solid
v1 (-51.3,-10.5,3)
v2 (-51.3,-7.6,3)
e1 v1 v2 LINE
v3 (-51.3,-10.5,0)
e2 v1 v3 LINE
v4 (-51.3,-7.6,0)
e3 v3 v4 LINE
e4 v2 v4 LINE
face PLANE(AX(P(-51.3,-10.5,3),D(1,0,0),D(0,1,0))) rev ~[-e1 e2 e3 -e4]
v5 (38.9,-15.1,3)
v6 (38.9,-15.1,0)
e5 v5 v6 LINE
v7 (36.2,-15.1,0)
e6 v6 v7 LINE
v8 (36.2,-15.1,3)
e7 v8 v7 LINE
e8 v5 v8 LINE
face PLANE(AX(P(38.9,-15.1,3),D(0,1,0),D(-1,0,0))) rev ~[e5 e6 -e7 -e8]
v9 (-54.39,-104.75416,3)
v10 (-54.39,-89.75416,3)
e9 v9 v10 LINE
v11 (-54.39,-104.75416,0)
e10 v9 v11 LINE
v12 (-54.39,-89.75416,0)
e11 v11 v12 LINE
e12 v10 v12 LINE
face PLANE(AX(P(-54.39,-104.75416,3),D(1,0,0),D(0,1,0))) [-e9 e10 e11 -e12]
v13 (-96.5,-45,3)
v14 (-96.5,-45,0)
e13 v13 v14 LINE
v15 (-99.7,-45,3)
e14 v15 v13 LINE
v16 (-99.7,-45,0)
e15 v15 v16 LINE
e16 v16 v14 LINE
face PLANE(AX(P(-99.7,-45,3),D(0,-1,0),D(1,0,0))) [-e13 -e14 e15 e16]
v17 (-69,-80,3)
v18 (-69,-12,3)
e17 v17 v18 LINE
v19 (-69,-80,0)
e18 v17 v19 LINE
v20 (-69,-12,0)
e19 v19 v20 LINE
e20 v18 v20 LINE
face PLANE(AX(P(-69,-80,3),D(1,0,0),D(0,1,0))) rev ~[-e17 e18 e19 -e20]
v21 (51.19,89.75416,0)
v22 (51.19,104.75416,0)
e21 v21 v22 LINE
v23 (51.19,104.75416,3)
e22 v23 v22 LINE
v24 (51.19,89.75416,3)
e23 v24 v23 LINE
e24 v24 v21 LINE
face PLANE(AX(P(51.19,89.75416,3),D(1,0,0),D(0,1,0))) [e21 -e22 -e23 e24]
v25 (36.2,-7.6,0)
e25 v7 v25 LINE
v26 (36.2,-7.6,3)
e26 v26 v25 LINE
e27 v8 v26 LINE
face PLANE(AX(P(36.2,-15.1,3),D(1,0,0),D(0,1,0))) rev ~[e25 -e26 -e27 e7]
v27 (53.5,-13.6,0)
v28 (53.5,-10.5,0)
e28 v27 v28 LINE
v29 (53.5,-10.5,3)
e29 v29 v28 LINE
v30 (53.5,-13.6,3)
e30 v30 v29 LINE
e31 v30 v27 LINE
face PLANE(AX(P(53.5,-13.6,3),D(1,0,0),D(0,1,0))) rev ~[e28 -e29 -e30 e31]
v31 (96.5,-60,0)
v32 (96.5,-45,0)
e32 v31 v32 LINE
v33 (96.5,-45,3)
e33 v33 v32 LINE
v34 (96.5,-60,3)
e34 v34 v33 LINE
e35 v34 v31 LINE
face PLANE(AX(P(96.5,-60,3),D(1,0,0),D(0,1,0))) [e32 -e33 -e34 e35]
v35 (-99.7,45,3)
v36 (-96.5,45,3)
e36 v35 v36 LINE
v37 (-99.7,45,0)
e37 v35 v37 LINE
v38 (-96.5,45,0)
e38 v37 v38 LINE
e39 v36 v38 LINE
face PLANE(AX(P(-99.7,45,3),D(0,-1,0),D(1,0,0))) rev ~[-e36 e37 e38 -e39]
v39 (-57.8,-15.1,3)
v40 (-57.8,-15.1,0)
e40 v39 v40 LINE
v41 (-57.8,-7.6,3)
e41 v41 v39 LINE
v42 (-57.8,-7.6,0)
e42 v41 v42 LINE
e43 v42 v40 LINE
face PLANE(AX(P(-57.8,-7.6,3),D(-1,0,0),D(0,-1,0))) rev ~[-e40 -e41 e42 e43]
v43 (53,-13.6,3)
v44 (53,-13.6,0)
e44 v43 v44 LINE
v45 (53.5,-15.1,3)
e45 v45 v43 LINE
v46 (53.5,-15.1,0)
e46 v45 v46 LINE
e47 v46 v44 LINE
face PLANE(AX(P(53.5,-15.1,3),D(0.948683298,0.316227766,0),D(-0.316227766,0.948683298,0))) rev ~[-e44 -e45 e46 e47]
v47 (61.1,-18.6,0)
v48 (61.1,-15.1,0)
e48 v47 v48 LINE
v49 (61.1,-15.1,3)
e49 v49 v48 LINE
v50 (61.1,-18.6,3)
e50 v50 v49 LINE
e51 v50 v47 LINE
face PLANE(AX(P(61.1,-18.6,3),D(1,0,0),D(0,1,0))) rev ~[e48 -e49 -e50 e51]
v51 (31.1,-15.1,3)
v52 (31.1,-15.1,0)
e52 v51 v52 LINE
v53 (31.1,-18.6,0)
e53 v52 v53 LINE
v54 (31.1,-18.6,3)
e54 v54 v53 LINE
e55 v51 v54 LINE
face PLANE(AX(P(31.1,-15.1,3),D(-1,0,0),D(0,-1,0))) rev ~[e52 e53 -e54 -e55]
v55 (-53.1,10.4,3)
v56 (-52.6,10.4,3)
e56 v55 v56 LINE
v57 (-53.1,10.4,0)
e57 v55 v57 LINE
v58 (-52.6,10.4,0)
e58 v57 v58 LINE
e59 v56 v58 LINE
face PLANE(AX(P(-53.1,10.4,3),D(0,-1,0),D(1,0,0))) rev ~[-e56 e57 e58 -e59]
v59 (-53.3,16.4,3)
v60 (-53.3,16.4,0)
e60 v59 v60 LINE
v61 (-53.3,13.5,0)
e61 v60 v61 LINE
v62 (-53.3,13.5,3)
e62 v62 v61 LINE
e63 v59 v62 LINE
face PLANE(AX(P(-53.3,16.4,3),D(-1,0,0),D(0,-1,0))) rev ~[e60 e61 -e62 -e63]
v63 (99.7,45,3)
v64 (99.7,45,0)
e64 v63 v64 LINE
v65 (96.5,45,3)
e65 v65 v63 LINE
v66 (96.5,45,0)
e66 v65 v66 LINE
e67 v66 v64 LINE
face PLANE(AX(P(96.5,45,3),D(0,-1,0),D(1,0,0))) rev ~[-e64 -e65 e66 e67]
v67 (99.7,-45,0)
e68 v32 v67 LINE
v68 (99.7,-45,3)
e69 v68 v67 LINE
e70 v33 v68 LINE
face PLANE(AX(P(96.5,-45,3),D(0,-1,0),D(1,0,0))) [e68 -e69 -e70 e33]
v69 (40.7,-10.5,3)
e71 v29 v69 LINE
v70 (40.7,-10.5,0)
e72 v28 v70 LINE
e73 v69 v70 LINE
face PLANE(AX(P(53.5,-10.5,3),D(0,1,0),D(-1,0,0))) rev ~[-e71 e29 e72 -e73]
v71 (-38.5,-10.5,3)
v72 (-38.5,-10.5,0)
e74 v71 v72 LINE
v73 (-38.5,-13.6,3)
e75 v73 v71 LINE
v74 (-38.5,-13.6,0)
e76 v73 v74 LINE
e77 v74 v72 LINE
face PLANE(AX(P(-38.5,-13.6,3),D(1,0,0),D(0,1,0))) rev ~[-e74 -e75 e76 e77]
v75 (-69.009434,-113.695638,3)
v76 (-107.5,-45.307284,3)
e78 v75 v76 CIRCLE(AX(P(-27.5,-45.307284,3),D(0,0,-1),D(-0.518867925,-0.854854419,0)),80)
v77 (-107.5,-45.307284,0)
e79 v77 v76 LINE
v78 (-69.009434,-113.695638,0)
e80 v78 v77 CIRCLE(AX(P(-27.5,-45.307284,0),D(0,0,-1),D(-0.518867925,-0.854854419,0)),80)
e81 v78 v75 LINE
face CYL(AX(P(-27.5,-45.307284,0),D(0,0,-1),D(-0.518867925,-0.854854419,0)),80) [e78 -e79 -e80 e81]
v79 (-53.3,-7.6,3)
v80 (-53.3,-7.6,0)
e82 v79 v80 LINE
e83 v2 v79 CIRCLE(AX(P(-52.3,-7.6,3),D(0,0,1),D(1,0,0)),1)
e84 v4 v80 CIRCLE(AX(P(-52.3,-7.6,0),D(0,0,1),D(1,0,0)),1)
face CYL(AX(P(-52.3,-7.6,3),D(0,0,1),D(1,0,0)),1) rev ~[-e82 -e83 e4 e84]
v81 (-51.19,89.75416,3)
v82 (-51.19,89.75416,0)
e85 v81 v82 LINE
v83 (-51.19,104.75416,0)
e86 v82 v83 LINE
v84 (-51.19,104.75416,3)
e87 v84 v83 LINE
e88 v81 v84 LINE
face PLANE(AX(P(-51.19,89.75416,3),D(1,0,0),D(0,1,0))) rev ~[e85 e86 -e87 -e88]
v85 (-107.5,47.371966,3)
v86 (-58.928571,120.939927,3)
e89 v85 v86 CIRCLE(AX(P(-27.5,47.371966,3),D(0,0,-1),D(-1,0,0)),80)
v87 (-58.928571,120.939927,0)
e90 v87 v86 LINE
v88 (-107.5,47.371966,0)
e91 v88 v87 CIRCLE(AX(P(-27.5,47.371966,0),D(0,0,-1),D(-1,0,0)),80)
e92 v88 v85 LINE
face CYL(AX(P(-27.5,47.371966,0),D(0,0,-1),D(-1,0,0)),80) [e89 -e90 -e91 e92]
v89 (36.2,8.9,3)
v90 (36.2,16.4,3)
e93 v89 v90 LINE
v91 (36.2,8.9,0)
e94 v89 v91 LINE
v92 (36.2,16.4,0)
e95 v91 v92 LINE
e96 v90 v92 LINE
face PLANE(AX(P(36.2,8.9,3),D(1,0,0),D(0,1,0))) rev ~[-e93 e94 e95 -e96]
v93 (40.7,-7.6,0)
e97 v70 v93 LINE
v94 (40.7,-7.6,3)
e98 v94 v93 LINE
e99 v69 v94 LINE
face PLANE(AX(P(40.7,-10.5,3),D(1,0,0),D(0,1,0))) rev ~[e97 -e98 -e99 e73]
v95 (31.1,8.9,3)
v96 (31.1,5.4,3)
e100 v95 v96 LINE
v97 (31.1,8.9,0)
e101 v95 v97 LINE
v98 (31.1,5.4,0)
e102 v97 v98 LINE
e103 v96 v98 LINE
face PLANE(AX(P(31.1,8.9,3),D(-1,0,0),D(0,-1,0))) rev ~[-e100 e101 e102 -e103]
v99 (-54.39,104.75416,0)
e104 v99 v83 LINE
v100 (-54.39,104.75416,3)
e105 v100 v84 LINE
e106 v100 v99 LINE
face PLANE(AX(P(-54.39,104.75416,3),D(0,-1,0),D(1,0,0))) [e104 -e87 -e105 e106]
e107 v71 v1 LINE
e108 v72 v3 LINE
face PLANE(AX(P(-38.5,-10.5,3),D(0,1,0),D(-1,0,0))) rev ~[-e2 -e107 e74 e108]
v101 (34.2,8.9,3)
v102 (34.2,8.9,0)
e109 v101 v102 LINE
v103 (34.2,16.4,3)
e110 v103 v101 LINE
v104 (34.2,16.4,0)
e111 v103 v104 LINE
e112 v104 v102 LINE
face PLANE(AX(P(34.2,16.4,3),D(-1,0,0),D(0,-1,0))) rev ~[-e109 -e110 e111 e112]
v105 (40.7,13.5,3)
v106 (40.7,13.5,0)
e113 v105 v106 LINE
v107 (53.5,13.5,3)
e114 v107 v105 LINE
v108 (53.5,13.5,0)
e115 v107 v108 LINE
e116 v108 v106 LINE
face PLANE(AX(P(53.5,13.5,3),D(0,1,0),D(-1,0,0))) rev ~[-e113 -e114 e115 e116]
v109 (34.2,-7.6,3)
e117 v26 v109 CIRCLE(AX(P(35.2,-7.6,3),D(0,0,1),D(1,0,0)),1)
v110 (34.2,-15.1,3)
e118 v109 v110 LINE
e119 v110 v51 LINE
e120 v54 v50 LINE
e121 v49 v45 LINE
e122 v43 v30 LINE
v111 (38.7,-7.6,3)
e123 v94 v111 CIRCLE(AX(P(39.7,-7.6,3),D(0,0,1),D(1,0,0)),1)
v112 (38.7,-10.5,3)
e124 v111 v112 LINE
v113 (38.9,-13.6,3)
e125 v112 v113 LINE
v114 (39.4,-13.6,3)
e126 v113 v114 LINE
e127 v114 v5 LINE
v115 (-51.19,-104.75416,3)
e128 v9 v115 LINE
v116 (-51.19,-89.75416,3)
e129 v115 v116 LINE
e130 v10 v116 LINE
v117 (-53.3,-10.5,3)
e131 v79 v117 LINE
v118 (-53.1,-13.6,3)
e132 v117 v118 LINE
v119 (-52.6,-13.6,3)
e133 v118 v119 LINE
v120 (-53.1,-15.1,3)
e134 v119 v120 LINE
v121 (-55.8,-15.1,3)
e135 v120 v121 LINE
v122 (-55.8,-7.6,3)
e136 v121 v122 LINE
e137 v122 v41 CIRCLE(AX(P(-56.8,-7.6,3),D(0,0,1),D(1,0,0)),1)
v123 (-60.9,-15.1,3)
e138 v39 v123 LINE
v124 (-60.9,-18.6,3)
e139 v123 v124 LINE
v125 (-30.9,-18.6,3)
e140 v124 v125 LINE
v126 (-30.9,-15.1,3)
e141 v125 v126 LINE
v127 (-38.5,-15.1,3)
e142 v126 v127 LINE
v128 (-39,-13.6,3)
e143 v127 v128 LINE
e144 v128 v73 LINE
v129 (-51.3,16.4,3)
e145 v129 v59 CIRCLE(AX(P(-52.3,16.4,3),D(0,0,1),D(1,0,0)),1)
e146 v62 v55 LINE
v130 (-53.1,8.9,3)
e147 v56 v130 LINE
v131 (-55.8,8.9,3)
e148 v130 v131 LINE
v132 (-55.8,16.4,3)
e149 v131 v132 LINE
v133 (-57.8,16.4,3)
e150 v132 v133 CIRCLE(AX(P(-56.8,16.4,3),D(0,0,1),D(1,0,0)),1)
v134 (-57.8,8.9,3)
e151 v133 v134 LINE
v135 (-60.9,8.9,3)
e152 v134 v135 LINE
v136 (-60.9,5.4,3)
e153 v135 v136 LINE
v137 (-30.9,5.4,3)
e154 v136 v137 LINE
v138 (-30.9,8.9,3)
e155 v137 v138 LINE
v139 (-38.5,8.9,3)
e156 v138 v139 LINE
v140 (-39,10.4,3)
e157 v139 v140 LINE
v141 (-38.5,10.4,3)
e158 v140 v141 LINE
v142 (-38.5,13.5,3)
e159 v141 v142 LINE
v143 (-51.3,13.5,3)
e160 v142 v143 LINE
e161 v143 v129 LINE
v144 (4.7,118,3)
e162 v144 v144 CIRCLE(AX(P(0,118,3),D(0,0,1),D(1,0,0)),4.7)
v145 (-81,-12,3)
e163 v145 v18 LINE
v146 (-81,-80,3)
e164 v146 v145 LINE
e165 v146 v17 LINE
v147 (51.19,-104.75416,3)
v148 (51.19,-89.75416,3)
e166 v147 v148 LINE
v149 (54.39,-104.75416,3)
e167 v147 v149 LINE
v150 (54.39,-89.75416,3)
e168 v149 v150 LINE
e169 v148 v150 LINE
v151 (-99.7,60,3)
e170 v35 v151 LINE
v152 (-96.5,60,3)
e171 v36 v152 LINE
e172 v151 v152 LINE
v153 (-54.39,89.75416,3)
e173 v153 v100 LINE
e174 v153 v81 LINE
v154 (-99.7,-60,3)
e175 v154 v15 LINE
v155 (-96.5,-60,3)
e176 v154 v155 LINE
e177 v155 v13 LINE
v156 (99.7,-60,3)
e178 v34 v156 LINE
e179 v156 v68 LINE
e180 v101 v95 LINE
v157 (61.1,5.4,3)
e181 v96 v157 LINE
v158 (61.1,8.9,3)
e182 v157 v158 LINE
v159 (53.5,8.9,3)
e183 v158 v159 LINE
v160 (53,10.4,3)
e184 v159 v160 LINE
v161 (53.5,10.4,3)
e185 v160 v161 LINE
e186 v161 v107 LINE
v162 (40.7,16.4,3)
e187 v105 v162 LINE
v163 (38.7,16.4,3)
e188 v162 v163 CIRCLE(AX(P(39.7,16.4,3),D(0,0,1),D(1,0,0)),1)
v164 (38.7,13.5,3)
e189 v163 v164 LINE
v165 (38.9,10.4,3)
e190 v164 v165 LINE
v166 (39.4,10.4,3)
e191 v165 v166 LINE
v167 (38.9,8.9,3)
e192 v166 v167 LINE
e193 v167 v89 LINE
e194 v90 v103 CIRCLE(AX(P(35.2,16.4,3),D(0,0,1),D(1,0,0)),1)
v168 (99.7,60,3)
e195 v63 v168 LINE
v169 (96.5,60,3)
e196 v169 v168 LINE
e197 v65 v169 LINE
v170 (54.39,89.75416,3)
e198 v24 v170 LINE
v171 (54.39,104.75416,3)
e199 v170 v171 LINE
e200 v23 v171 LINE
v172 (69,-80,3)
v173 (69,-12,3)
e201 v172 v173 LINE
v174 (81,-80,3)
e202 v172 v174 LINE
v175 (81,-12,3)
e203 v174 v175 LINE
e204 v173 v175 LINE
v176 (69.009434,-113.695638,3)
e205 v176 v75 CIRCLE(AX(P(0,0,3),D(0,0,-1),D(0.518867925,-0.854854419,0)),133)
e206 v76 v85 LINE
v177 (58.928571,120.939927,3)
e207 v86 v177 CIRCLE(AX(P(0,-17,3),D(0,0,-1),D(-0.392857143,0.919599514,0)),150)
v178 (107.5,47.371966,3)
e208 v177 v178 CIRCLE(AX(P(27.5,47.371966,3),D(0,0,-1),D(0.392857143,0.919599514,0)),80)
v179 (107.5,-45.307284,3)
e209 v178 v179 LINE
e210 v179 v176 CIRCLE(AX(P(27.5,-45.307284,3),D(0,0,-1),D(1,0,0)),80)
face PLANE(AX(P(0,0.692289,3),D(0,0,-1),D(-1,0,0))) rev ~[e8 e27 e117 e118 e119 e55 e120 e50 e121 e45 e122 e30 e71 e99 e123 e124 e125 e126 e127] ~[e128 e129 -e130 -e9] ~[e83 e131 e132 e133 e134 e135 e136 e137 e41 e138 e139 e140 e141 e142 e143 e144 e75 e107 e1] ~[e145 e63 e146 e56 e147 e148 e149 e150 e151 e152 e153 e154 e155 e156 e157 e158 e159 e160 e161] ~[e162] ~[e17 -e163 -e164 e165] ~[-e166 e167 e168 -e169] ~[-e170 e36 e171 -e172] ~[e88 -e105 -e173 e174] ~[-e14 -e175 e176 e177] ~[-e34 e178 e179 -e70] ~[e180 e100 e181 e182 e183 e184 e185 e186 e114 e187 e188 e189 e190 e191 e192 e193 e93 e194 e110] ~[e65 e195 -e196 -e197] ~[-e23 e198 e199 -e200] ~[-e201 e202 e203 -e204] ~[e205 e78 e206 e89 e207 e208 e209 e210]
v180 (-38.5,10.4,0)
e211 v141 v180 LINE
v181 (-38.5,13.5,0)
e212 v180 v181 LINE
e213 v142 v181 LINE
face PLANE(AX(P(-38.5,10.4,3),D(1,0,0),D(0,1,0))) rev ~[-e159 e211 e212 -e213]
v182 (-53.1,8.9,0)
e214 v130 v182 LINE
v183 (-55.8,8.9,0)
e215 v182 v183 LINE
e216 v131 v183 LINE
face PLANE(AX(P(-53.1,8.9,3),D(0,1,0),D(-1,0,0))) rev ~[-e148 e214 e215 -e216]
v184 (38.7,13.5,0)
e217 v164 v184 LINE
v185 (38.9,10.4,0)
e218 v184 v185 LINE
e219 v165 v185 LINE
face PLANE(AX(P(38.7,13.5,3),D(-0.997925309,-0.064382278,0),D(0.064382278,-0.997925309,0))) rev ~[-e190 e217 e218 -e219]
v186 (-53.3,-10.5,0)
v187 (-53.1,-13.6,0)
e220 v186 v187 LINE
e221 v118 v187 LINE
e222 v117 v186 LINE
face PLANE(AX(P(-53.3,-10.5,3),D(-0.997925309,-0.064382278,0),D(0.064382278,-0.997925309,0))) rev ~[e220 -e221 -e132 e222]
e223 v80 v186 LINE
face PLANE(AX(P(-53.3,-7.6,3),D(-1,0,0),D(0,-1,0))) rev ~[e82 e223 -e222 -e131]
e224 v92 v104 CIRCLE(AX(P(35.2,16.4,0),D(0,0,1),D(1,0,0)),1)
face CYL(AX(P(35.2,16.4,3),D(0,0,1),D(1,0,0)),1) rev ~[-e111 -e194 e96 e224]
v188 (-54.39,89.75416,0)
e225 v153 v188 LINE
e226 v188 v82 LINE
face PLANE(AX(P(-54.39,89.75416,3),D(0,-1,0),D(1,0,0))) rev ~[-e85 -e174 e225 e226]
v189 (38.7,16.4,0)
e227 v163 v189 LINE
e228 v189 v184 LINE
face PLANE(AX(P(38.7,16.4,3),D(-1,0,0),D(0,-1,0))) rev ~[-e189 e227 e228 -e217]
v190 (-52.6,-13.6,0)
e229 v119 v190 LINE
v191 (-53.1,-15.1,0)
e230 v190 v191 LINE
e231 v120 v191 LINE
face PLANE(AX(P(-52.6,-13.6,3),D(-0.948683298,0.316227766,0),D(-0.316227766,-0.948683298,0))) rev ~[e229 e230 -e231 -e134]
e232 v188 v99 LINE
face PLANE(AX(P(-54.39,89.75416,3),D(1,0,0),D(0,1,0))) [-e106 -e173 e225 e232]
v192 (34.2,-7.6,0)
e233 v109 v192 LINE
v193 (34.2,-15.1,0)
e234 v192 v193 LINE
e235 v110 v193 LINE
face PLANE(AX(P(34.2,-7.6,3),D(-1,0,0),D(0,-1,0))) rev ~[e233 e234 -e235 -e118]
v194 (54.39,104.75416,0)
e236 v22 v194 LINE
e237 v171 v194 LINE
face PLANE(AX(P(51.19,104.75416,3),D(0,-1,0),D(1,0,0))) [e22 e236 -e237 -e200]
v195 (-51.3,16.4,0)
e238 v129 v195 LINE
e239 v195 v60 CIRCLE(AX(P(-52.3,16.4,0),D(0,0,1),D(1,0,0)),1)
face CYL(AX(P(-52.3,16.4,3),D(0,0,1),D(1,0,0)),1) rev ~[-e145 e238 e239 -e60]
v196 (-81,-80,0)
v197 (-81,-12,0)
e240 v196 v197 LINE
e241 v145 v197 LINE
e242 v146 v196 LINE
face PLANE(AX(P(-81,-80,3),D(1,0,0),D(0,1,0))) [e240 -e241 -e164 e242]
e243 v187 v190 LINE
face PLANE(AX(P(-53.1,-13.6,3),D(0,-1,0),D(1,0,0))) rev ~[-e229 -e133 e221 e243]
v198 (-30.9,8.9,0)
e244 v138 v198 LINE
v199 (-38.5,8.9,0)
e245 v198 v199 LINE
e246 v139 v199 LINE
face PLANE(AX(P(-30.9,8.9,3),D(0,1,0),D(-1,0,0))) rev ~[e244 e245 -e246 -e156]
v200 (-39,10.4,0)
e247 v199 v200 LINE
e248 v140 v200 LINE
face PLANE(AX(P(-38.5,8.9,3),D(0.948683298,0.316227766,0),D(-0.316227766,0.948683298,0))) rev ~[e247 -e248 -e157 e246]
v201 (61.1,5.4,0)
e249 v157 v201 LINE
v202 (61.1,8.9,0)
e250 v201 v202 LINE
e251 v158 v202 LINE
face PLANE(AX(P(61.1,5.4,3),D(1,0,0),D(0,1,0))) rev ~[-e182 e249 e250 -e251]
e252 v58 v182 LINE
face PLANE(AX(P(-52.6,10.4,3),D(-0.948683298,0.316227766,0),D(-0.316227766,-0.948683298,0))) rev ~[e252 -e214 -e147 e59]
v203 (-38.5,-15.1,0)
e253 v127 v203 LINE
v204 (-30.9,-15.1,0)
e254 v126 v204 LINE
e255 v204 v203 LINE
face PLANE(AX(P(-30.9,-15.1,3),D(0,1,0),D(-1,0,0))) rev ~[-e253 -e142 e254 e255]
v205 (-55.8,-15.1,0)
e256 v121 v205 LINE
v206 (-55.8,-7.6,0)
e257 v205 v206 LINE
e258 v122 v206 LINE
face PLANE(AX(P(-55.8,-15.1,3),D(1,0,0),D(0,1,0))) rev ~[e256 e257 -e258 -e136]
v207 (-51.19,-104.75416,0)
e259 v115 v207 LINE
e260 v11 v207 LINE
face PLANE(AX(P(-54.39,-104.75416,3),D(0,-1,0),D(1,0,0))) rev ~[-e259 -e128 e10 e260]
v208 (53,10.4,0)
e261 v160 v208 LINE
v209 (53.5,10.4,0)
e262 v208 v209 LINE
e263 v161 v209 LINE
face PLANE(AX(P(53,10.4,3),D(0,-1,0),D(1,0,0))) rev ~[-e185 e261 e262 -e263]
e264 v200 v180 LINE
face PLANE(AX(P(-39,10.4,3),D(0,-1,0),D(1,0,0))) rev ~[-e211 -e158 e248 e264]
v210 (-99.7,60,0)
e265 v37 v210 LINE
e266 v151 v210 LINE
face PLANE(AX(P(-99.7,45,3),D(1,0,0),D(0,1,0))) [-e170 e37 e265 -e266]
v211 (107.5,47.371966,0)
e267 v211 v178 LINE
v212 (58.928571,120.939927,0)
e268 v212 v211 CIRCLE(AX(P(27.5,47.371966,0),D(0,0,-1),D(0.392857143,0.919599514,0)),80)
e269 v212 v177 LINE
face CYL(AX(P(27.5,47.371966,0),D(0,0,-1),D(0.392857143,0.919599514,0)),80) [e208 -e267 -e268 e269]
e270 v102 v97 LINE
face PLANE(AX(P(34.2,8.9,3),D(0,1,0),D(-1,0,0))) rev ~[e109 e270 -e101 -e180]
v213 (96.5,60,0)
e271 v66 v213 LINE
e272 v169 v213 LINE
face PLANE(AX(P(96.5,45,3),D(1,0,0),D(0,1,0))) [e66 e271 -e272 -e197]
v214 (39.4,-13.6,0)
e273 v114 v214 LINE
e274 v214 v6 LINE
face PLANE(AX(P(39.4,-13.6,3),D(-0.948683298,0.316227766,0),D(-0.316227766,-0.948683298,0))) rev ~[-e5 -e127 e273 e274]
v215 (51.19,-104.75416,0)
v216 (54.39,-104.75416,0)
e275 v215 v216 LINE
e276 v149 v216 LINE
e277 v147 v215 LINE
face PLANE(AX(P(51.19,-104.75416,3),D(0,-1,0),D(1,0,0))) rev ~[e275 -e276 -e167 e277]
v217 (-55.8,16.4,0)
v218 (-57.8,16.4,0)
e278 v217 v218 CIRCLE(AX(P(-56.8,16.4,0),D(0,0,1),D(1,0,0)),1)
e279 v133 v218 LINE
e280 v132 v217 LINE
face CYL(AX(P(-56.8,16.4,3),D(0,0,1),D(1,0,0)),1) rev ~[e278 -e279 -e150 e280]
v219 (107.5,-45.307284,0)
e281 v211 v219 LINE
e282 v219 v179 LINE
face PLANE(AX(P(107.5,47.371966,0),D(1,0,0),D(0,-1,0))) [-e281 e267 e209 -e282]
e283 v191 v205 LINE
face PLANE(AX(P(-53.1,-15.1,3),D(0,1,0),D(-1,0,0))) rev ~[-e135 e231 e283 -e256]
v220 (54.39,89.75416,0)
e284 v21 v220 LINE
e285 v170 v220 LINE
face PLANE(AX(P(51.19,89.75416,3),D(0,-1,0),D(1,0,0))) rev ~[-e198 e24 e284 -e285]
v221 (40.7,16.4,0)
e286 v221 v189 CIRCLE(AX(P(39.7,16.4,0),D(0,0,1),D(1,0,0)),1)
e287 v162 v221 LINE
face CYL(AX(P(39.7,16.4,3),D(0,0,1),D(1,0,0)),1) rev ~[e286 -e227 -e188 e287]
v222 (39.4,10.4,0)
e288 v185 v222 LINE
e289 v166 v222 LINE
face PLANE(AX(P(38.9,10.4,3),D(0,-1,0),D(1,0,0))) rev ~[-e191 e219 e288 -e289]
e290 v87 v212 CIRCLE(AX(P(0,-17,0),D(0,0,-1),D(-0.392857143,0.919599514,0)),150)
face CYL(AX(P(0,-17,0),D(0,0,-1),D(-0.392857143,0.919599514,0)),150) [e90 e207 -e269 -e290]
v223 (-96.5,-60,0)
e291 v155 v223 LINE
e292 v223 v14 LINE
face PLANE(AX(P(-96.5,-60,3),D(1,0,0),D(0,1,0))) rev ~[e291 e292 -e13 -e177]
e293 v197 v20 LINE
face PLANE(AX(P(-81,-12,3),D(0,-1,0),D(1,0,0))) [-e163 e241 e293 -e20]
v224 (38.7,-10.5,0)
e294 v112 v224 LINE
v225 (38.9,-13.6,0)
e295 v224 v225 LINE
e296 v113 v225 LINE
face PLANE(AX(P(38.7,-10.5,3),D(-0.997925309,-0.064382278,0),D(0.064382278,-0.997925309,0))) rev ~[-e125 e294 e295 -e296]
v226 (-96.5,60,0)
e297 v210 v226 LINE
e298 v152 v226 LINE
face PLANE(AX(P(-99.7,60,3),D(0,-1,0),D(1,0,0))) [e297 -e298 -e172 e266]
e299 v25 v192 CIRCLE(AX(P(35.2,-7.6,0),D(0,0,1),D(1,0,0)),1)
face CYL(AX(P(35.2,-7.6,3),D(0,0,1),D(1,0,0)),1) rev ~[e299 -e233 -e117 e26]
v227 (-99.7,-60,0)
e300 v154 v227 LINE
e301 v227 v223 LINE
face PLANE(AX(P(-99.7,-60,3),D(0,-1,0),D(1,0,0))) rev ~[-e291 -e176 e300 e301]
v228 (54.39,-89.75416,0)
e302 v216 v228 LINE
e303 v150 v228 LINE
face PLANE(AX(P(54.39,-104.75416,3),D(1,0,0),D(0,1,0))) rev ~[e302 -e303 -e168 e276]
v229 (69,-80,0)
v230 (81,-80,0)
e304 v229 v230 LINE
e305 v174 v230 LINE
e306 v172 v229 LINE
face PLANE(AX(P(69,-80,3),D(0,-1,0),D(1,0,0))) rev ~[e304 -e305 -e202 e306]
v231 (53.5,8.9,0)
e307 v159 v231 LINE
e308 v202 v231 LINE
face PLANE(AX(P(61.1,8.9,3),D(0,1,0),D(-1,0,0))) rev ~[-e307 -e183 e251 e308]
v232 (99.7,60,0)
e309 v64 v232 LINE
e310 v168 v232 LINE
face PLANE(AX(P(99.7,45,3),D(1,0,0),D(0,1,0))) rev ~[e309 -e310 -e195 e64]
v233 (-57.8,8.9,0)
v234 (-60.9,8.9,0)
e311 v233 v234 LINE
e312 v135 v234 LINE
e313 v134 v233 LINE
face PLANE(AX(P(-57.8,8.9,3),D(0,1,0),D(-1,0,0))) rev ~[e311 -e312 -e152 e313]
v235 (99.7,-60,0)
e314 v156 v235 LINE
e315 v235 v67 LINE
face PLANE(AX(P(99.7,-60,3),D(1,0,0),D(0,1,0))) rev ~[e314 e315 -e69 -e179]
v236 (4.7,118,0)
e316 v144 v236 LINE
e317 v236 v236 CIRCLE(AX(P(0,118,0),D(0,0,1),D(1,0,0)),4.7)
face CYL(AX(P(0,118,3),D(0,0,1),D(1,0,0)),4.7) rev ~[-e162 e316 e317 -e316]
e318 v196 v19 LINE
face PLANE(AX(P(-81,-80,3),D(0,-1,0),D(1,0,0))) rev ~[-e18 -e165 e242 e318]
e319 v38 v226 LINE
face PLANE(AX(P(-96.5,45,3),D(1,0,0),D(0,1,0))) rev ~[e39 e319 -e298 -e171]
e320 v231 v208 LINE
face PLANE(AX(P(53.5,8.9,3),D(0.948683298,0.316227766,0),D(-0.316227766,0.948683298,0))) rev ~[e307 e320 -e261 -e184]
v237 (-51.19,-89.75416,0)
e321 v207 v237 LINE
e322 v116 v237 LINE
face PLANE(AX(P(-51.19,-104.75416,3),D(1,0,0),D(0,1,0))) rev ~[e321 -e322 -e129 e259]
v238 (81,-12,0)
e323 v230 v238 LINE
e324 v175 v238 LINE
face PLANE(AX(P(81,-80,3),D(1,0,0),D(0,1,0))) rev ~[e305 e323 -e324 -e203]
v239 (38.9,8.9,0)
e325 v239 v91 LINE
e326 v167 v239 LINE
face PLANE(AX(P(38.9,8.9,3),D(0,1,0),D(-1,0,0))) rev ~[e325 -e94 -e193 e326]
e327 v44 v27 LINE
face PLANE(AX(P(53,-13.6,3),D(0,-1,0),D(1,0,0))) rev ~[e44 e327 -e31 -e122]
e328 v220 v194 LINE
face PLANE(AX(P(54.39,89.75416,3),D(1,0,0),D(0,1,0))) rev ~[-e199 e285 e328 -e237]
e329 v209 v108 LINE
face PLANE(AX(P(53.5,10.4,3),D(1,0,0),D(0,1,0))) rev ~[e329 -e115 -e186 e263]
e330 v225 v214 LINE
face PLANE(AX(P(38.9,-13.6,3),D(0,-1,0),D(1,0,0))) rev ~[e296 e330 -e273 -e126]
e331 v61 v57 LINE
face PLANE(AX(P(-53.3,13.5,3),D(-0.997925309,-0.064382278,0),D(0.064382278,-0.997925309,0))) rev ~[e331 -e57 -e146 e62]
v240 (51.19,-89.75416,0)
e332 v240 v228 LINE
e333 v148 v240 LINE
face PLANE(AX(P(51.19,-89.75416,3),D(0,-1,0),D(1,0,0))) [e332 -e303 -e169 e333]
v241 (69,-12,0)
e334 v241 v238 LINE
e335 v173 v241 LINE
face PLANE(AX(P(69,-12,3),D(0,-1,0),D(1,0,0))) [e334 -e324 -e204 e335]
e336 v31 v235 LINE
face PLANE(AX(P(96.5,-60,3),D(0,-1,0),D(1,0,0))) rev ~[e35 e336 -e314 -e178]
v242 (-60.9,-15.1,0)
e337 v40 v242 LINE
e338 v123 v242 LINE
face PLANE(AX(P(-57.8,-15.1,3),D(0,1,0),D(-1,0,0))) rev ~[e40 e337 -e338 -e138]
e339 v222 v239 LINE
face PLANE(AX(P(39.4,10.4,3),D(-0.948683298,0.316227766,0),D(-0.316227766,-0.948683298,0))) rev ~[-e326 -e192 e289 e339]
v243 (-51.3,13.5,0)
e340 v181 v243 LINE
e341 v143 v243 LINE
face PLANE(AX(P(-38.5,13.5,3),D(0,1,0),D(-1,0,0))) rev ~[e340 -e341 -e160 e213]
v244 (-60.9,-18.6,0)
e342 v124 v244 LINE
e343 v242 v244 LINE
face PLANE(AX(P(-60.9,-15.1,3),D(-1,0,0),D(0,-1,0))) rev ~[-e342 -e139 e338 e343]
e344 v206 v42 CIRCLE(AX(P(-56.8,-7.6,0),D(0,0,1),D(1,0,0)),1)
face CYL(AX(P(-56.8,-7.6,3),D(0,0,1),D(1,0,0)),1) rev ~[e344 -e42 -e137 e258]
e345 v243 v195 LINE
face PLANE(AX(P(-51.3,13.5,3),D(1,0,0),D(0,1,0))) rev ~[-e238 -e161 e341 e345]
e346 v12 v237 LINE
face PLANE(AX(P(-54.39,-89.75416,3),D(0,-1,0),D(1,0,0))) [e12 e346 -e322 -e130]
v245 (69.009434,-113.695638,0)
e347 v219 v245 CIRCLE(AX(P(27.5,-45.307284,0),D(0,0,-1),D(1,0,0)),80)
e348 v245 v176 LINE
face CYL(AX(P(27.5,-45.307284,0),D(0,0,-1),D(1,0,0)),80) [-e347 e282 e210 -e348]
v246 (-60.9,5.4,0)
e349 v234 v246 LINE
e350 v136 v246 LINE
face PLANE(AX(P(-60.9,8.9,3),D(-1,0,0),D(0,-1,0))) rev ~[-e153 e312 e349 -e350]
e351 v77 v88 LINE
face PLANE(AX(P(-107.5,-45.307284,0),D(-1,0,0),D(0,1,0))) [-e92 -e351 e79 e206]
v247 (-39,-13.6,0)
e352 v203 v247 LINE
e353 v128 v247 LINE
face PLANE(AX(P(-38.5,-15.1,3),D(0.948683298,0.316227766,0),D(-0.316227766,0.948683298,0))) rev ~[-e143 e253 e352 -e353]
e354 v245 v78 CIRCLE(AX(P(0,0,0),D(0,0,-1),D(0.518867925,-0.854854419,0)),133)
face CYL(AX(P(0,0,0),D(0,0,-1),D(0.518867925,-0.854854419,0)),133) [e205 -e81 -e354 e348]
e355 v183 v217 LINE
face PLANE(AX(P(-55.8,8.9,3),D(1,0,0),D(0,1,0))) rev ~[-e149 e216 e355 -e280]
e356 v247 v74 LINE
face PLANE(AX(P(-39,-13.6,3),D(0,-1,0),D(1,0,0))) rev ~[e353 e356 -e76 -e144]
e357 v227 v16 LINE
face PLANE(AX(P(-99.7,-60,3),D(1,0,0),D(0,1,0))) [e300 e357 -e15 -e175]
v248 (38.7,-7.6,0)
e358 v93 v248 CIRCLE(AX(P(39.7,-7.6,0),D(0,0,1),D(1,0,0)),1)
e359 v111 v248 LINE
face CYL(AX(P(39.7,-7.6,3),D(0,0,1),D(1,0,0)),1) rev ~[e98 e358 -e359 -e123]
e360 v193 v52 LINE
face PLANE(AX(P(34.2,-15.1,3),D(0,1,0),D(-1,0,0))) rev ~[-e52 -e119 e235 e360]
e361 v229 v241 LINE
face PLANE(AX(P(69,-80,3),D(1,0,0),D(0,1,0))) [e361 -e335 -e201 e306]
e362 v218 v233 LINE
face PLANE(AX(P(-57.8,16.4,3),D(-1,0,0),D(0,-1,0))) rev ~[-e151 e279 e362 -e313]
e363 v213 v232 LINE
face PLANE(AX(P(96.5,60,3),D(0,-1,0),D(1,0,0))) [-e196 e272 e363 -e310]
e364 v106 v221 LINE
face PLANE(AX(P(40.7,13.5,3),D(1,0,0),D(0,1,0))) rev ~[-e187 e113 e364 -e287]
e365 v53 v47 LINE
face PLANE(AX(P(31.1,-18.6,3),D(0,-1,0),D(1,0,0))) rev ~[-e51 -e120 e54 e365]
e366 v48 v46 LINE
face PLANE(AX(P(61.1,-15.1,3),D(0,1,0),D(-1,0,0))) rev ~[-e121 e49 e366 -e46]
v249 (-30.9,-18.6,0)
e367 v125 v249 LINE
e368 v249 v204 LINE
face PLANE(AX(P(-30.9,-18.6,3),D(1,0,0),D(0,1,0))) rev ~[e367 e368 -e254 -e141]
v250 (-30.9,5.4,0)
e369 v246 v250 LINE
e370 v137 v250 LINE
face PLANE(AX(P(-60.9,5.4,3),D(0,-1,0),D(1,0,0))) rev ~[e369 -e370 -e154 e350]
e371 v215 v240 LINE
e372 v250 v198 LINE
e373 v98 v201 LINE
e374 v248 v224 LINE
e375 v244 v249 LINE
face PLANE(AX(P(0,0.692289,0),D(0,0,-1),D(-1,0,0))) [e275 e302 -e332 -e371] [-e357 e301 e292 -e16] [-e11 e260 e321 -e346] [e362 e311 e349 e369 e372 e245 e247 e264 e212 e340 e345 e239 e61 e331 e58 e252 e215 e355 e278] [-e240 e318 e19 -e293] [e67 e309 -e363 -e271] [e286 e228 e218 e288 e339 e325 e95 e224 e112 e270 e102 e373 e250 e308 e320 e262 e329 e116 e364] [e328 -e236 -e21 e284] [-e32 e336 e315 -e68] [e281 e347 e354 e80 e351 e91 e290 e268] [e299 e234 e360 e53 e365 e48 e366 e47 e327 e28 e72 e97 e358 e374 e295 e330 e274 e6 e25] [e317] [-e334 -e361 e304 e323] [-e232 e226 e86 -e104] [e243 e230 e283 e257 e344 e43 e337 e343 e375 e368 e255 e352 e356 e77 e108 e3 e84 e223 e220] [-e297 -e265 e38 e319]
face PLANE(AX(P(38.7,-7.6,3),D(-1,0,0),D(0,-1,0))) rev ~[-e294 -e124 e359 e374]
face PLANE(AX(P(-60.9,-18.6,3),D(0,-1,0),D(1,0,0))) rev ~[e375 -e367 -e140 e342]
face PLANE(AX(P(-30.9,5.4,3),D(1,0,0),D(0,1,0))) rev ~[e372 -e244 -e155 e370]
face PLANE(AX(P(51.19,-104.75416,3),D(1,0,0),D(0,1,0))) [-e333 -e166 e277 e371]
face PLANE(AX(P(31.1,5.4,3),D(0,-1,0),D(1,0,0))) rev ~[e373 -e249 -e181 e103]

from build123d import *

# Parameters (mm, degrees)
BOSS_EXTRUDE1_DEPTH          = 3
MOUNTING_SLOTS_REACH         = 173.039
SKETCH2_W                    = 3.2
SKETCH2_H                    = 15
CASTER_AND_WHEEL_SLOTS_REACH = 173.039
SKETCH3_R                    = 4.7
SKETCH3_W                    = 12
SKETCH3_H                    = 68


with BuildPart() as part:
    # Sketch1 → Boss-Extrude1 (new body)
    with BuildSketch(Plane.XY):
        with BuildLine():
            Line((-107.5, -45.307284183), (-107.5, 47.371965948))
            ThreePointArc((-107.5, 47.371965948), (-94.261836832, 91.449819149), (-58.928571429, 120.939927031))
            ThreePointArc((-58.928571429, 120.939927031), (0, 133), (58.928571429, 120.939927031))
            ThreePointArc((58.928571429, 120.939927031), (94.261836832, 91.449819149), (107.5, 47.371965948))
            Line((107.5, 47.371965948), (107.5, -45.307284183))
            ThreePointArc((107.5, -45.307284183), (97.216406667, -84.545309636), (69.009433962, -113.695637666))
            ThreePointArc((69.009433962, -113.695637666), (0, -133), (-69.009433962, -113.695637666))
            ThreePointArc((-69.009433962, -113.695637666), (-97.216406667, -84.545309636), (-107.5, -45.307284183))
        make_face()
    extrude(amount=BOSS_EXTRUDE1_DEPTH)

    # Sketch2 → mounting slots (cut, up to next)
    with BuildSketch(Plane.XY.offset(3), mode=Mode.PRIVATE) as mounting_slots_sk1:
        with Locations((98.1, -52.5)):
            Rectangle(SKETCH2_W, SKETCH2_H)
    mounting_slots_tool1 = extrude(mounting_slots_sk1.sketch, amount=-MOUNTING_SLOTS_REACH, mode=Mode.PRIVATE) & part.part
    # Sketch2 → mounting slots (cut, up to next)
    with BuildSketch(Plane.XY.offset(3), mode=Mode.PRIVATE) as mounting_slots_sk2:
        with Locations((98.1, 52.5)):
            Rectangle(SKETCH2_W, SKETCH2_H)
    mounting_slots_tool2 = extrude(mounting_slots_sk2.sketch, amount=-MOUNTING_SLOTS_REACH, mode=Mode.PRIVATE) & part.part
    # Sketch2 → mounting slots (cut, up to next)
    with BuildSketch(Plane.XY.offset(3), mode=Mode.PRIVATE) as mounting_slots_sk3:
        with Locations((-98.1, 52.5)):
            Rectangle(SKETCH2_W, SKETCH2_H)
    mounting_slots_tool3 = extrude(mounting_slots_sk3.sketch, amount=-MOUNTING_SLOTS_REACH, mode=Mode.PRIVATE) & part.part
    # Sketch2 → mounting slots (cut, up to next)
    with BuildSketch(Plane.XY.offset(3), mode=Mode.PRIVATE) as mounting_slots_sk4:
        with Locations((-98.1, -52.5)):
            Rectangle(SKETCH2_W, SKETCH2_H)
    mounting_slots_tool4 = extrude(mounting_slots_sk4.sketch, amount=-MOUNTING_SLOTS_REACH, mode=Mode.PRIVATE) & part.part
    # Sketch2 → mounting slots (cut, up to next)
    with BuildSketch(Plane.XY.offset(3), mode=Mode.PRIVATE) as mounting_slots_sk5:
        with Locations((52.79, 97.254160418)):
            Rectangle(SKETCH2_W, SKETCH2_H)
    mounting_slots_tool5 = extrude(mounting_slots_sk5.sketch, amount=-MOUNTING_SLOTS_REACH, mode=Mode.PRIVATE) & part.part
    # Sketch2 → mounting slots (cut, up to next)
    with BuildSketch(Plane.XY.offset(3), mode=Mode.PRIVATE) as mounting_slots_sk6:
        with Locations((52.79, -97.254160418)):
            Rectangle(SKETCH2_W, SKETCH2_H)
    mounting_slots_tool6 = extrude(mounting_slots_sk6.sketch, amount=-MOUNTING_SLOTS_REACH, mode=Mode.PRIVATE) & part.part
    # Sketch2 → mounting slots (cut, up to next)
    with BuildSketch(Plane.XY.offset(3), mode=Mode.PRIVATE) as mounting_slots_sk7:
        with Locations((-52.79, 97.254160418)):
            Rectangle(SKETCH2_W, SKETCH2_H)
    mounting_slots_tool7 = extrude(mounting_slots_sk7.sketch, amount=-MOUNTING_SLOTS_REACH, mode=Mode.PRIVATE) & part.part
    # Sketch2 → mounting slots (cut, up to next)
    with BuildSketch(Plane.XY.offset(3), mode=Mode.PRIVATE) as mounting_slots_sk8:
        with Locations((-52.79, -97.254160418)):
            Rectangle(SKETCH2_W, SKETCH2_H)
    mounting_slots_tool8 = extrude(mounting_slots_sk8.sketch, amount=-MOUNTING_SLOTS_REACH, mode=Mode.PRIVATE) & part.part
    # Sketch2 → mounting slots (cut, up to next)
    with BuildSketch(Plane.XY.offset(3), mode=Mode.PRIVATE) as mounting_slots_sk9:
        with BuildLine():
            Line((31.1, -18.6), (61.1, -18.6))
            Line((61.1, -18.6), (61.1, -15.1))
            Line((61.1, -15.1), (53.5, -15.1))
            Line((53.5, -15.1), (53, -13.6))
            Line((53, -13.6), (53.5, -13.6))
            Line((53.5, -13.6), (53.5, -10.5))
            Line((53.5, -10.5), (40.7, -10.5))
            Line((40.7, -10.5), (40.7, -7.6))
            ThreePointArc((40.7, -7.6), (39.7, -6.6), (38.7, -7.6))
            Line((38.7, -7.6), (38.7, -10.5))
            Line((38.7, -10.5), (38.9, -13.6))
            Line((38.9, -13.6), (39.4, -13.6))
            Line((39.4, -13.6), (38.9, -15.1))
            Line((38.9, -15.1), (36.2, -15.1))
            Line((36.2, -15.1), (36.2, -7.6))
            ThreePointArc((36.2, -7.6), (35.2, -6.6), (34.2, -7.6))
            Line((34.2, -7.6), (34.2, -15.1))
            Line((34.2, -15.1), (31.1, -15.1))
            Line((31.1, -15.1), (31.1, -18.6))
        make_face()
    mounting_slots_tool9 = extrude(mounting_slots_sk9.sketch, amount=-MOUNTING_SLOTS_REACH, mode=Mode.PRIVATE) & part.part
    # Sketch2 → mounting slots (cut, up to next)
    with BuildSketch(Plane.XY.offset(3), mode=Mode.PRIVATE) as mounting_slots_sk10:
        with BuildLine():
            Line((31.1, 5.4), (61.1, 5.4))
            Line((61.1, 5.4), (61.1, 8.9))
            Line((61.1, 8.9), (53.5, 8.9))
            Line((53.5, 8.9), (53, 10.4))
            Line((53, 10.4), (53.5, 10.4))
            Line((53.5, 10.4), (53.5, 13.5))
            Line((53.5, 13.5), (40.7, 13.5))
            Line((40.7, 13.5), (40.7, 16.4))
            ThreePointArc((40.7, 16.4), (39.7, 17.4), (38.7, 16.4))
            Line((38.7, 16.4), (38.7, 13.5))
            Line((38.7, 13.5), (38.9, 10.4))
            Line((38.9, 10.4), (39.4, 10.4))
            Line((39.4, 10.4), (38.9, 8.9))
            Line((38.9, 8.9), (36.2, 8.9))
            Line((36.2, 8.9), (36.2, 16.4))
            ThreePointArc((36.2, 16.4), (35.2, 17.4), (34.2, 16.4))
            Line((34.2, 16.4), (34.2, 8.9))
            Line((34.2, 8.9), (31.1, 8.9))
            Line((31.1, 8.9), (31.1, 5.4))
        make_face()
    mounting_slots_tool10 = extrude(mounting_slots_sk10.sketch, amount=-MOUNTING_SLOTS_REACH, mode=Mode.PRIVATE) & part.part
    # Sketch2 → mounting slots (cut, up to next)
    with BuildSketch(Plane.XY.offset(3), mode=Mode.PRIVATE) as mounting_slots_sk11:
        with BuildLine():
            Line((-60.9, -18.6), (-30.9, -18.6))
            Line((-30.9, -18.6), (-30.9, -15.1))
            Line((-30.9, -15.1), (-38.5, -15.1))
            Line((-38.5, -15.1), (-39, -13.6))
            Line((-39, -13.6), (-38.5, -13.6))
            Line((-38.5, -13.6), (-38.5, -10.5))
            Line((-38.5, -10.5), (-51.3, -10.5))
            Line((-51.3, -10.5), (-51.3, -7.6))
            ThreePointArc((-51.3, -7.6), (-52.3, -6.6), (-53.3, -7.6))
            Line((-53.3, -7.6), (-53.3, -10.5))
            Line((-53.3, -10.5), (-53.1, -13.6))
            Line((-53.1, -13.6), (-52.6, -13.6))
            Line((-52.6, -13.6), (-53.1, -15.1))
            Line((-53.1, -15.1), (-55.8, -15.1))
            Line((-55.8, -15.1), (-55.8, -7.6))
            ThreePointArc((-55.8, -7.6), (-56.8, -6.6), (-57.8, -7.6))
            Line((-57.8, -7.6), (-57.8, -15.1))
            Line((-57.8, -15.1), (-60.9, -15.1))
            Line((-60.9, -15.1), (-60.9, -18.6))
        make_face()
    mounting_slots_tool11 = extrude(mounting_slots_sk11.sketch, amount=-MOUNTING_SLOTS_REACH, mode=Mode.PRIVATE) & part.part
    # Sketch2 → mounting slots (cut, up to next)
    with BuildSketch(Plane.XY.offset(3), mode=Mode.PRIVATE) as mounting_slots_sk12:
        with BuildLine():
            Line((-60.9, 5.4), (-30.9, 5.4))
            Line((-30.9, 5.4), (-30.9, 8.9))
            Line((-30.9, 8.9), (-38.5, 8.9))
            Line((-38.5, 8.9), (-39, 10.4))
            Line((-39, 10.4), (-38.5, 10.4))
            Line((-38.5, 10.4), (-38.5, 13.5))
            Line((-38.5, 13.5), (-51.3, 13.5))
            Line((-51.3, 13.5), (-51.3, 16.4))
            ThreePointArc((-51.3, 16.4), (-52.3, 17.4), (-53.3, 16.4))
            Line((-53.3, 16.4), (-53.3, 13.5))
            Line((-53.3, 13.5), (-53.1, 10.4))
            Line((-53.1, 10.4), (-52.6, 10.4))
            Line((-52.6, 10.4), (-53.1, 8.9))
            Line((-53.1, 8.9), (-55.8, 8.9))
            Line((-55.8, 8.9), (-55.8, 16.4))
            ThreePointArc((-55.8, 16.4), (-56.8, 17.4), (-57.8, 16.4))
            Line((-57.8, 16.4), (-57.8, 8.9))
            Line((-57.8, 8.9), (-60.9, 8.9))
            Line((-60.9, 8.9), (-60.9, 5.4))
        make_face()
    mounting_slots_tool12 = extrude(mounting_slots_sk12.sketch, amount=-MOUNTING_SLOTS_REACH, mode=Mode.PRIVATE) & part.part
    add(mounting_slots_tool1.solids().sort_by_distance((98.1, -52.5, 3))[0], mode=Mode.SUBTRACT)
    add(mounting_slots_tool2.solids().sort_by_distance((98.1, 52.5, 3))[0], mode=Mode.SUBTRACT)
    add(mounting_slots_tool3.solids().sort_by_distance((-98.1, 52.5, 3))[0], mode=Mode.SUBTRACT)
    add(mounting_slots_tool4.solids().sort_by_distance((-98.1, -52.5, 3))[0], mode=Mode.SUBTRACT)
    add(mounting_slots_tool5.solids().sort_by_distance((52.79, 97.25416, 3))[0], mode=Mode.SUBTRACT)
    add(mounting_slots_tool6.solids().sort_by_distance((52.79, -97.25416, 3))[0], mode=Mode.SUBTRACT)
    add(mounting_slots_tool7.solids().sort_by_distance((-52.79, 97.25416, 3))[0], mode=Mode.SUBTRACT)
    add(mounting_slots_tool8.solids().sort_by_distance((-52.79, -97.25416, 3))[0], mode=Mode.SUBTRACT)
    add(mounting_slots_tool9.solids().sort_by_distance((44.9582, -14.653776, 3))[0], mode=Mode.SUBTRACT)
    add(mounting_slots_tool10.solids().sort_by_distance((44.9582, 9.346224, 3))[0], mode=Mode.SUBTRACT)
    add(mounting_slots_tool11.solids().sort_by_distance((-47.0418, -14.653776, 3))[0], mode=Mode.SUBTRACT)
    add(mounting_slots_tool12.solids().sort_by_distance((-47.0418, 9.346224, 3))[0], mode=Mode.SUBTRACT)

    # Sketch3 → caster and wheel slots (cut, up to next)
    with BuildSketch(Plane.XY.offset(3), mode=Mode.PRIVATE) as caster_and_wheel_slots_sk1:
        with Locations((0, 118)):
            Circle(SKETCH3_R)
    caster_and_wheel_slots_tool1 = extrude(caster_and_wheel_slots_sk1.sketch, amount=-CASTER_AND_WHEEL_SLOTS_REACH, mode=Mode.PRIVATE) & part.part
    # Sketch3 → caster and wheel slots (cut, up to next)
    with BuildSketch(Plane.XY.offset(3), mode=Mode.PRIVATE) as caster_and_wheel_slots_sk2:
        with Locations((75, -46)):
            Rectangle(SKETCH3_W, SKETCH3_H)
    caster_and_wheel_slots_tool2 = extrude(caster_and_wheel_slots_sk2.sketch, amount=-CASTER_AND_WHEEL_SLOTS_REACH, mode=Mode.PRIVATE) & part.part
    # Sketch3 → caster and wheel slots (cut, up to next)
    with BuildSketch(Plane.XY.offset(3), mode=Mode.PRIVATE) as caster_and_wheel_slots_sk3:
        with Locations((-75, -46)):
            Rectangle(SKETCH3_W, SKETCH3_H)
    caster_and_wheel_slots_tool3 = extrude(caster_and_wheel_slots_sk3.sketch, amount=-CASTER_AND_WHEEL_SLOTS_REACH, mode=Mode.PRIVATE) & part.part
    add(caster_and_wheel_slots_tool1.solids().sort_by_distance((0, 118, 3))[0], mode=Mode.SUBTRACT)
    add(caster_and_wheel_slots_tool2.solids().sort_by_distance((75, -46, 3))[0], mode=Mode.SUBTRACT)
    add(caster_and_wheel_slots_tool3.solids().sort_by_distance((-75, -46, 3))[0], mode=Mode.SUBTRACT)


solid = part.part
